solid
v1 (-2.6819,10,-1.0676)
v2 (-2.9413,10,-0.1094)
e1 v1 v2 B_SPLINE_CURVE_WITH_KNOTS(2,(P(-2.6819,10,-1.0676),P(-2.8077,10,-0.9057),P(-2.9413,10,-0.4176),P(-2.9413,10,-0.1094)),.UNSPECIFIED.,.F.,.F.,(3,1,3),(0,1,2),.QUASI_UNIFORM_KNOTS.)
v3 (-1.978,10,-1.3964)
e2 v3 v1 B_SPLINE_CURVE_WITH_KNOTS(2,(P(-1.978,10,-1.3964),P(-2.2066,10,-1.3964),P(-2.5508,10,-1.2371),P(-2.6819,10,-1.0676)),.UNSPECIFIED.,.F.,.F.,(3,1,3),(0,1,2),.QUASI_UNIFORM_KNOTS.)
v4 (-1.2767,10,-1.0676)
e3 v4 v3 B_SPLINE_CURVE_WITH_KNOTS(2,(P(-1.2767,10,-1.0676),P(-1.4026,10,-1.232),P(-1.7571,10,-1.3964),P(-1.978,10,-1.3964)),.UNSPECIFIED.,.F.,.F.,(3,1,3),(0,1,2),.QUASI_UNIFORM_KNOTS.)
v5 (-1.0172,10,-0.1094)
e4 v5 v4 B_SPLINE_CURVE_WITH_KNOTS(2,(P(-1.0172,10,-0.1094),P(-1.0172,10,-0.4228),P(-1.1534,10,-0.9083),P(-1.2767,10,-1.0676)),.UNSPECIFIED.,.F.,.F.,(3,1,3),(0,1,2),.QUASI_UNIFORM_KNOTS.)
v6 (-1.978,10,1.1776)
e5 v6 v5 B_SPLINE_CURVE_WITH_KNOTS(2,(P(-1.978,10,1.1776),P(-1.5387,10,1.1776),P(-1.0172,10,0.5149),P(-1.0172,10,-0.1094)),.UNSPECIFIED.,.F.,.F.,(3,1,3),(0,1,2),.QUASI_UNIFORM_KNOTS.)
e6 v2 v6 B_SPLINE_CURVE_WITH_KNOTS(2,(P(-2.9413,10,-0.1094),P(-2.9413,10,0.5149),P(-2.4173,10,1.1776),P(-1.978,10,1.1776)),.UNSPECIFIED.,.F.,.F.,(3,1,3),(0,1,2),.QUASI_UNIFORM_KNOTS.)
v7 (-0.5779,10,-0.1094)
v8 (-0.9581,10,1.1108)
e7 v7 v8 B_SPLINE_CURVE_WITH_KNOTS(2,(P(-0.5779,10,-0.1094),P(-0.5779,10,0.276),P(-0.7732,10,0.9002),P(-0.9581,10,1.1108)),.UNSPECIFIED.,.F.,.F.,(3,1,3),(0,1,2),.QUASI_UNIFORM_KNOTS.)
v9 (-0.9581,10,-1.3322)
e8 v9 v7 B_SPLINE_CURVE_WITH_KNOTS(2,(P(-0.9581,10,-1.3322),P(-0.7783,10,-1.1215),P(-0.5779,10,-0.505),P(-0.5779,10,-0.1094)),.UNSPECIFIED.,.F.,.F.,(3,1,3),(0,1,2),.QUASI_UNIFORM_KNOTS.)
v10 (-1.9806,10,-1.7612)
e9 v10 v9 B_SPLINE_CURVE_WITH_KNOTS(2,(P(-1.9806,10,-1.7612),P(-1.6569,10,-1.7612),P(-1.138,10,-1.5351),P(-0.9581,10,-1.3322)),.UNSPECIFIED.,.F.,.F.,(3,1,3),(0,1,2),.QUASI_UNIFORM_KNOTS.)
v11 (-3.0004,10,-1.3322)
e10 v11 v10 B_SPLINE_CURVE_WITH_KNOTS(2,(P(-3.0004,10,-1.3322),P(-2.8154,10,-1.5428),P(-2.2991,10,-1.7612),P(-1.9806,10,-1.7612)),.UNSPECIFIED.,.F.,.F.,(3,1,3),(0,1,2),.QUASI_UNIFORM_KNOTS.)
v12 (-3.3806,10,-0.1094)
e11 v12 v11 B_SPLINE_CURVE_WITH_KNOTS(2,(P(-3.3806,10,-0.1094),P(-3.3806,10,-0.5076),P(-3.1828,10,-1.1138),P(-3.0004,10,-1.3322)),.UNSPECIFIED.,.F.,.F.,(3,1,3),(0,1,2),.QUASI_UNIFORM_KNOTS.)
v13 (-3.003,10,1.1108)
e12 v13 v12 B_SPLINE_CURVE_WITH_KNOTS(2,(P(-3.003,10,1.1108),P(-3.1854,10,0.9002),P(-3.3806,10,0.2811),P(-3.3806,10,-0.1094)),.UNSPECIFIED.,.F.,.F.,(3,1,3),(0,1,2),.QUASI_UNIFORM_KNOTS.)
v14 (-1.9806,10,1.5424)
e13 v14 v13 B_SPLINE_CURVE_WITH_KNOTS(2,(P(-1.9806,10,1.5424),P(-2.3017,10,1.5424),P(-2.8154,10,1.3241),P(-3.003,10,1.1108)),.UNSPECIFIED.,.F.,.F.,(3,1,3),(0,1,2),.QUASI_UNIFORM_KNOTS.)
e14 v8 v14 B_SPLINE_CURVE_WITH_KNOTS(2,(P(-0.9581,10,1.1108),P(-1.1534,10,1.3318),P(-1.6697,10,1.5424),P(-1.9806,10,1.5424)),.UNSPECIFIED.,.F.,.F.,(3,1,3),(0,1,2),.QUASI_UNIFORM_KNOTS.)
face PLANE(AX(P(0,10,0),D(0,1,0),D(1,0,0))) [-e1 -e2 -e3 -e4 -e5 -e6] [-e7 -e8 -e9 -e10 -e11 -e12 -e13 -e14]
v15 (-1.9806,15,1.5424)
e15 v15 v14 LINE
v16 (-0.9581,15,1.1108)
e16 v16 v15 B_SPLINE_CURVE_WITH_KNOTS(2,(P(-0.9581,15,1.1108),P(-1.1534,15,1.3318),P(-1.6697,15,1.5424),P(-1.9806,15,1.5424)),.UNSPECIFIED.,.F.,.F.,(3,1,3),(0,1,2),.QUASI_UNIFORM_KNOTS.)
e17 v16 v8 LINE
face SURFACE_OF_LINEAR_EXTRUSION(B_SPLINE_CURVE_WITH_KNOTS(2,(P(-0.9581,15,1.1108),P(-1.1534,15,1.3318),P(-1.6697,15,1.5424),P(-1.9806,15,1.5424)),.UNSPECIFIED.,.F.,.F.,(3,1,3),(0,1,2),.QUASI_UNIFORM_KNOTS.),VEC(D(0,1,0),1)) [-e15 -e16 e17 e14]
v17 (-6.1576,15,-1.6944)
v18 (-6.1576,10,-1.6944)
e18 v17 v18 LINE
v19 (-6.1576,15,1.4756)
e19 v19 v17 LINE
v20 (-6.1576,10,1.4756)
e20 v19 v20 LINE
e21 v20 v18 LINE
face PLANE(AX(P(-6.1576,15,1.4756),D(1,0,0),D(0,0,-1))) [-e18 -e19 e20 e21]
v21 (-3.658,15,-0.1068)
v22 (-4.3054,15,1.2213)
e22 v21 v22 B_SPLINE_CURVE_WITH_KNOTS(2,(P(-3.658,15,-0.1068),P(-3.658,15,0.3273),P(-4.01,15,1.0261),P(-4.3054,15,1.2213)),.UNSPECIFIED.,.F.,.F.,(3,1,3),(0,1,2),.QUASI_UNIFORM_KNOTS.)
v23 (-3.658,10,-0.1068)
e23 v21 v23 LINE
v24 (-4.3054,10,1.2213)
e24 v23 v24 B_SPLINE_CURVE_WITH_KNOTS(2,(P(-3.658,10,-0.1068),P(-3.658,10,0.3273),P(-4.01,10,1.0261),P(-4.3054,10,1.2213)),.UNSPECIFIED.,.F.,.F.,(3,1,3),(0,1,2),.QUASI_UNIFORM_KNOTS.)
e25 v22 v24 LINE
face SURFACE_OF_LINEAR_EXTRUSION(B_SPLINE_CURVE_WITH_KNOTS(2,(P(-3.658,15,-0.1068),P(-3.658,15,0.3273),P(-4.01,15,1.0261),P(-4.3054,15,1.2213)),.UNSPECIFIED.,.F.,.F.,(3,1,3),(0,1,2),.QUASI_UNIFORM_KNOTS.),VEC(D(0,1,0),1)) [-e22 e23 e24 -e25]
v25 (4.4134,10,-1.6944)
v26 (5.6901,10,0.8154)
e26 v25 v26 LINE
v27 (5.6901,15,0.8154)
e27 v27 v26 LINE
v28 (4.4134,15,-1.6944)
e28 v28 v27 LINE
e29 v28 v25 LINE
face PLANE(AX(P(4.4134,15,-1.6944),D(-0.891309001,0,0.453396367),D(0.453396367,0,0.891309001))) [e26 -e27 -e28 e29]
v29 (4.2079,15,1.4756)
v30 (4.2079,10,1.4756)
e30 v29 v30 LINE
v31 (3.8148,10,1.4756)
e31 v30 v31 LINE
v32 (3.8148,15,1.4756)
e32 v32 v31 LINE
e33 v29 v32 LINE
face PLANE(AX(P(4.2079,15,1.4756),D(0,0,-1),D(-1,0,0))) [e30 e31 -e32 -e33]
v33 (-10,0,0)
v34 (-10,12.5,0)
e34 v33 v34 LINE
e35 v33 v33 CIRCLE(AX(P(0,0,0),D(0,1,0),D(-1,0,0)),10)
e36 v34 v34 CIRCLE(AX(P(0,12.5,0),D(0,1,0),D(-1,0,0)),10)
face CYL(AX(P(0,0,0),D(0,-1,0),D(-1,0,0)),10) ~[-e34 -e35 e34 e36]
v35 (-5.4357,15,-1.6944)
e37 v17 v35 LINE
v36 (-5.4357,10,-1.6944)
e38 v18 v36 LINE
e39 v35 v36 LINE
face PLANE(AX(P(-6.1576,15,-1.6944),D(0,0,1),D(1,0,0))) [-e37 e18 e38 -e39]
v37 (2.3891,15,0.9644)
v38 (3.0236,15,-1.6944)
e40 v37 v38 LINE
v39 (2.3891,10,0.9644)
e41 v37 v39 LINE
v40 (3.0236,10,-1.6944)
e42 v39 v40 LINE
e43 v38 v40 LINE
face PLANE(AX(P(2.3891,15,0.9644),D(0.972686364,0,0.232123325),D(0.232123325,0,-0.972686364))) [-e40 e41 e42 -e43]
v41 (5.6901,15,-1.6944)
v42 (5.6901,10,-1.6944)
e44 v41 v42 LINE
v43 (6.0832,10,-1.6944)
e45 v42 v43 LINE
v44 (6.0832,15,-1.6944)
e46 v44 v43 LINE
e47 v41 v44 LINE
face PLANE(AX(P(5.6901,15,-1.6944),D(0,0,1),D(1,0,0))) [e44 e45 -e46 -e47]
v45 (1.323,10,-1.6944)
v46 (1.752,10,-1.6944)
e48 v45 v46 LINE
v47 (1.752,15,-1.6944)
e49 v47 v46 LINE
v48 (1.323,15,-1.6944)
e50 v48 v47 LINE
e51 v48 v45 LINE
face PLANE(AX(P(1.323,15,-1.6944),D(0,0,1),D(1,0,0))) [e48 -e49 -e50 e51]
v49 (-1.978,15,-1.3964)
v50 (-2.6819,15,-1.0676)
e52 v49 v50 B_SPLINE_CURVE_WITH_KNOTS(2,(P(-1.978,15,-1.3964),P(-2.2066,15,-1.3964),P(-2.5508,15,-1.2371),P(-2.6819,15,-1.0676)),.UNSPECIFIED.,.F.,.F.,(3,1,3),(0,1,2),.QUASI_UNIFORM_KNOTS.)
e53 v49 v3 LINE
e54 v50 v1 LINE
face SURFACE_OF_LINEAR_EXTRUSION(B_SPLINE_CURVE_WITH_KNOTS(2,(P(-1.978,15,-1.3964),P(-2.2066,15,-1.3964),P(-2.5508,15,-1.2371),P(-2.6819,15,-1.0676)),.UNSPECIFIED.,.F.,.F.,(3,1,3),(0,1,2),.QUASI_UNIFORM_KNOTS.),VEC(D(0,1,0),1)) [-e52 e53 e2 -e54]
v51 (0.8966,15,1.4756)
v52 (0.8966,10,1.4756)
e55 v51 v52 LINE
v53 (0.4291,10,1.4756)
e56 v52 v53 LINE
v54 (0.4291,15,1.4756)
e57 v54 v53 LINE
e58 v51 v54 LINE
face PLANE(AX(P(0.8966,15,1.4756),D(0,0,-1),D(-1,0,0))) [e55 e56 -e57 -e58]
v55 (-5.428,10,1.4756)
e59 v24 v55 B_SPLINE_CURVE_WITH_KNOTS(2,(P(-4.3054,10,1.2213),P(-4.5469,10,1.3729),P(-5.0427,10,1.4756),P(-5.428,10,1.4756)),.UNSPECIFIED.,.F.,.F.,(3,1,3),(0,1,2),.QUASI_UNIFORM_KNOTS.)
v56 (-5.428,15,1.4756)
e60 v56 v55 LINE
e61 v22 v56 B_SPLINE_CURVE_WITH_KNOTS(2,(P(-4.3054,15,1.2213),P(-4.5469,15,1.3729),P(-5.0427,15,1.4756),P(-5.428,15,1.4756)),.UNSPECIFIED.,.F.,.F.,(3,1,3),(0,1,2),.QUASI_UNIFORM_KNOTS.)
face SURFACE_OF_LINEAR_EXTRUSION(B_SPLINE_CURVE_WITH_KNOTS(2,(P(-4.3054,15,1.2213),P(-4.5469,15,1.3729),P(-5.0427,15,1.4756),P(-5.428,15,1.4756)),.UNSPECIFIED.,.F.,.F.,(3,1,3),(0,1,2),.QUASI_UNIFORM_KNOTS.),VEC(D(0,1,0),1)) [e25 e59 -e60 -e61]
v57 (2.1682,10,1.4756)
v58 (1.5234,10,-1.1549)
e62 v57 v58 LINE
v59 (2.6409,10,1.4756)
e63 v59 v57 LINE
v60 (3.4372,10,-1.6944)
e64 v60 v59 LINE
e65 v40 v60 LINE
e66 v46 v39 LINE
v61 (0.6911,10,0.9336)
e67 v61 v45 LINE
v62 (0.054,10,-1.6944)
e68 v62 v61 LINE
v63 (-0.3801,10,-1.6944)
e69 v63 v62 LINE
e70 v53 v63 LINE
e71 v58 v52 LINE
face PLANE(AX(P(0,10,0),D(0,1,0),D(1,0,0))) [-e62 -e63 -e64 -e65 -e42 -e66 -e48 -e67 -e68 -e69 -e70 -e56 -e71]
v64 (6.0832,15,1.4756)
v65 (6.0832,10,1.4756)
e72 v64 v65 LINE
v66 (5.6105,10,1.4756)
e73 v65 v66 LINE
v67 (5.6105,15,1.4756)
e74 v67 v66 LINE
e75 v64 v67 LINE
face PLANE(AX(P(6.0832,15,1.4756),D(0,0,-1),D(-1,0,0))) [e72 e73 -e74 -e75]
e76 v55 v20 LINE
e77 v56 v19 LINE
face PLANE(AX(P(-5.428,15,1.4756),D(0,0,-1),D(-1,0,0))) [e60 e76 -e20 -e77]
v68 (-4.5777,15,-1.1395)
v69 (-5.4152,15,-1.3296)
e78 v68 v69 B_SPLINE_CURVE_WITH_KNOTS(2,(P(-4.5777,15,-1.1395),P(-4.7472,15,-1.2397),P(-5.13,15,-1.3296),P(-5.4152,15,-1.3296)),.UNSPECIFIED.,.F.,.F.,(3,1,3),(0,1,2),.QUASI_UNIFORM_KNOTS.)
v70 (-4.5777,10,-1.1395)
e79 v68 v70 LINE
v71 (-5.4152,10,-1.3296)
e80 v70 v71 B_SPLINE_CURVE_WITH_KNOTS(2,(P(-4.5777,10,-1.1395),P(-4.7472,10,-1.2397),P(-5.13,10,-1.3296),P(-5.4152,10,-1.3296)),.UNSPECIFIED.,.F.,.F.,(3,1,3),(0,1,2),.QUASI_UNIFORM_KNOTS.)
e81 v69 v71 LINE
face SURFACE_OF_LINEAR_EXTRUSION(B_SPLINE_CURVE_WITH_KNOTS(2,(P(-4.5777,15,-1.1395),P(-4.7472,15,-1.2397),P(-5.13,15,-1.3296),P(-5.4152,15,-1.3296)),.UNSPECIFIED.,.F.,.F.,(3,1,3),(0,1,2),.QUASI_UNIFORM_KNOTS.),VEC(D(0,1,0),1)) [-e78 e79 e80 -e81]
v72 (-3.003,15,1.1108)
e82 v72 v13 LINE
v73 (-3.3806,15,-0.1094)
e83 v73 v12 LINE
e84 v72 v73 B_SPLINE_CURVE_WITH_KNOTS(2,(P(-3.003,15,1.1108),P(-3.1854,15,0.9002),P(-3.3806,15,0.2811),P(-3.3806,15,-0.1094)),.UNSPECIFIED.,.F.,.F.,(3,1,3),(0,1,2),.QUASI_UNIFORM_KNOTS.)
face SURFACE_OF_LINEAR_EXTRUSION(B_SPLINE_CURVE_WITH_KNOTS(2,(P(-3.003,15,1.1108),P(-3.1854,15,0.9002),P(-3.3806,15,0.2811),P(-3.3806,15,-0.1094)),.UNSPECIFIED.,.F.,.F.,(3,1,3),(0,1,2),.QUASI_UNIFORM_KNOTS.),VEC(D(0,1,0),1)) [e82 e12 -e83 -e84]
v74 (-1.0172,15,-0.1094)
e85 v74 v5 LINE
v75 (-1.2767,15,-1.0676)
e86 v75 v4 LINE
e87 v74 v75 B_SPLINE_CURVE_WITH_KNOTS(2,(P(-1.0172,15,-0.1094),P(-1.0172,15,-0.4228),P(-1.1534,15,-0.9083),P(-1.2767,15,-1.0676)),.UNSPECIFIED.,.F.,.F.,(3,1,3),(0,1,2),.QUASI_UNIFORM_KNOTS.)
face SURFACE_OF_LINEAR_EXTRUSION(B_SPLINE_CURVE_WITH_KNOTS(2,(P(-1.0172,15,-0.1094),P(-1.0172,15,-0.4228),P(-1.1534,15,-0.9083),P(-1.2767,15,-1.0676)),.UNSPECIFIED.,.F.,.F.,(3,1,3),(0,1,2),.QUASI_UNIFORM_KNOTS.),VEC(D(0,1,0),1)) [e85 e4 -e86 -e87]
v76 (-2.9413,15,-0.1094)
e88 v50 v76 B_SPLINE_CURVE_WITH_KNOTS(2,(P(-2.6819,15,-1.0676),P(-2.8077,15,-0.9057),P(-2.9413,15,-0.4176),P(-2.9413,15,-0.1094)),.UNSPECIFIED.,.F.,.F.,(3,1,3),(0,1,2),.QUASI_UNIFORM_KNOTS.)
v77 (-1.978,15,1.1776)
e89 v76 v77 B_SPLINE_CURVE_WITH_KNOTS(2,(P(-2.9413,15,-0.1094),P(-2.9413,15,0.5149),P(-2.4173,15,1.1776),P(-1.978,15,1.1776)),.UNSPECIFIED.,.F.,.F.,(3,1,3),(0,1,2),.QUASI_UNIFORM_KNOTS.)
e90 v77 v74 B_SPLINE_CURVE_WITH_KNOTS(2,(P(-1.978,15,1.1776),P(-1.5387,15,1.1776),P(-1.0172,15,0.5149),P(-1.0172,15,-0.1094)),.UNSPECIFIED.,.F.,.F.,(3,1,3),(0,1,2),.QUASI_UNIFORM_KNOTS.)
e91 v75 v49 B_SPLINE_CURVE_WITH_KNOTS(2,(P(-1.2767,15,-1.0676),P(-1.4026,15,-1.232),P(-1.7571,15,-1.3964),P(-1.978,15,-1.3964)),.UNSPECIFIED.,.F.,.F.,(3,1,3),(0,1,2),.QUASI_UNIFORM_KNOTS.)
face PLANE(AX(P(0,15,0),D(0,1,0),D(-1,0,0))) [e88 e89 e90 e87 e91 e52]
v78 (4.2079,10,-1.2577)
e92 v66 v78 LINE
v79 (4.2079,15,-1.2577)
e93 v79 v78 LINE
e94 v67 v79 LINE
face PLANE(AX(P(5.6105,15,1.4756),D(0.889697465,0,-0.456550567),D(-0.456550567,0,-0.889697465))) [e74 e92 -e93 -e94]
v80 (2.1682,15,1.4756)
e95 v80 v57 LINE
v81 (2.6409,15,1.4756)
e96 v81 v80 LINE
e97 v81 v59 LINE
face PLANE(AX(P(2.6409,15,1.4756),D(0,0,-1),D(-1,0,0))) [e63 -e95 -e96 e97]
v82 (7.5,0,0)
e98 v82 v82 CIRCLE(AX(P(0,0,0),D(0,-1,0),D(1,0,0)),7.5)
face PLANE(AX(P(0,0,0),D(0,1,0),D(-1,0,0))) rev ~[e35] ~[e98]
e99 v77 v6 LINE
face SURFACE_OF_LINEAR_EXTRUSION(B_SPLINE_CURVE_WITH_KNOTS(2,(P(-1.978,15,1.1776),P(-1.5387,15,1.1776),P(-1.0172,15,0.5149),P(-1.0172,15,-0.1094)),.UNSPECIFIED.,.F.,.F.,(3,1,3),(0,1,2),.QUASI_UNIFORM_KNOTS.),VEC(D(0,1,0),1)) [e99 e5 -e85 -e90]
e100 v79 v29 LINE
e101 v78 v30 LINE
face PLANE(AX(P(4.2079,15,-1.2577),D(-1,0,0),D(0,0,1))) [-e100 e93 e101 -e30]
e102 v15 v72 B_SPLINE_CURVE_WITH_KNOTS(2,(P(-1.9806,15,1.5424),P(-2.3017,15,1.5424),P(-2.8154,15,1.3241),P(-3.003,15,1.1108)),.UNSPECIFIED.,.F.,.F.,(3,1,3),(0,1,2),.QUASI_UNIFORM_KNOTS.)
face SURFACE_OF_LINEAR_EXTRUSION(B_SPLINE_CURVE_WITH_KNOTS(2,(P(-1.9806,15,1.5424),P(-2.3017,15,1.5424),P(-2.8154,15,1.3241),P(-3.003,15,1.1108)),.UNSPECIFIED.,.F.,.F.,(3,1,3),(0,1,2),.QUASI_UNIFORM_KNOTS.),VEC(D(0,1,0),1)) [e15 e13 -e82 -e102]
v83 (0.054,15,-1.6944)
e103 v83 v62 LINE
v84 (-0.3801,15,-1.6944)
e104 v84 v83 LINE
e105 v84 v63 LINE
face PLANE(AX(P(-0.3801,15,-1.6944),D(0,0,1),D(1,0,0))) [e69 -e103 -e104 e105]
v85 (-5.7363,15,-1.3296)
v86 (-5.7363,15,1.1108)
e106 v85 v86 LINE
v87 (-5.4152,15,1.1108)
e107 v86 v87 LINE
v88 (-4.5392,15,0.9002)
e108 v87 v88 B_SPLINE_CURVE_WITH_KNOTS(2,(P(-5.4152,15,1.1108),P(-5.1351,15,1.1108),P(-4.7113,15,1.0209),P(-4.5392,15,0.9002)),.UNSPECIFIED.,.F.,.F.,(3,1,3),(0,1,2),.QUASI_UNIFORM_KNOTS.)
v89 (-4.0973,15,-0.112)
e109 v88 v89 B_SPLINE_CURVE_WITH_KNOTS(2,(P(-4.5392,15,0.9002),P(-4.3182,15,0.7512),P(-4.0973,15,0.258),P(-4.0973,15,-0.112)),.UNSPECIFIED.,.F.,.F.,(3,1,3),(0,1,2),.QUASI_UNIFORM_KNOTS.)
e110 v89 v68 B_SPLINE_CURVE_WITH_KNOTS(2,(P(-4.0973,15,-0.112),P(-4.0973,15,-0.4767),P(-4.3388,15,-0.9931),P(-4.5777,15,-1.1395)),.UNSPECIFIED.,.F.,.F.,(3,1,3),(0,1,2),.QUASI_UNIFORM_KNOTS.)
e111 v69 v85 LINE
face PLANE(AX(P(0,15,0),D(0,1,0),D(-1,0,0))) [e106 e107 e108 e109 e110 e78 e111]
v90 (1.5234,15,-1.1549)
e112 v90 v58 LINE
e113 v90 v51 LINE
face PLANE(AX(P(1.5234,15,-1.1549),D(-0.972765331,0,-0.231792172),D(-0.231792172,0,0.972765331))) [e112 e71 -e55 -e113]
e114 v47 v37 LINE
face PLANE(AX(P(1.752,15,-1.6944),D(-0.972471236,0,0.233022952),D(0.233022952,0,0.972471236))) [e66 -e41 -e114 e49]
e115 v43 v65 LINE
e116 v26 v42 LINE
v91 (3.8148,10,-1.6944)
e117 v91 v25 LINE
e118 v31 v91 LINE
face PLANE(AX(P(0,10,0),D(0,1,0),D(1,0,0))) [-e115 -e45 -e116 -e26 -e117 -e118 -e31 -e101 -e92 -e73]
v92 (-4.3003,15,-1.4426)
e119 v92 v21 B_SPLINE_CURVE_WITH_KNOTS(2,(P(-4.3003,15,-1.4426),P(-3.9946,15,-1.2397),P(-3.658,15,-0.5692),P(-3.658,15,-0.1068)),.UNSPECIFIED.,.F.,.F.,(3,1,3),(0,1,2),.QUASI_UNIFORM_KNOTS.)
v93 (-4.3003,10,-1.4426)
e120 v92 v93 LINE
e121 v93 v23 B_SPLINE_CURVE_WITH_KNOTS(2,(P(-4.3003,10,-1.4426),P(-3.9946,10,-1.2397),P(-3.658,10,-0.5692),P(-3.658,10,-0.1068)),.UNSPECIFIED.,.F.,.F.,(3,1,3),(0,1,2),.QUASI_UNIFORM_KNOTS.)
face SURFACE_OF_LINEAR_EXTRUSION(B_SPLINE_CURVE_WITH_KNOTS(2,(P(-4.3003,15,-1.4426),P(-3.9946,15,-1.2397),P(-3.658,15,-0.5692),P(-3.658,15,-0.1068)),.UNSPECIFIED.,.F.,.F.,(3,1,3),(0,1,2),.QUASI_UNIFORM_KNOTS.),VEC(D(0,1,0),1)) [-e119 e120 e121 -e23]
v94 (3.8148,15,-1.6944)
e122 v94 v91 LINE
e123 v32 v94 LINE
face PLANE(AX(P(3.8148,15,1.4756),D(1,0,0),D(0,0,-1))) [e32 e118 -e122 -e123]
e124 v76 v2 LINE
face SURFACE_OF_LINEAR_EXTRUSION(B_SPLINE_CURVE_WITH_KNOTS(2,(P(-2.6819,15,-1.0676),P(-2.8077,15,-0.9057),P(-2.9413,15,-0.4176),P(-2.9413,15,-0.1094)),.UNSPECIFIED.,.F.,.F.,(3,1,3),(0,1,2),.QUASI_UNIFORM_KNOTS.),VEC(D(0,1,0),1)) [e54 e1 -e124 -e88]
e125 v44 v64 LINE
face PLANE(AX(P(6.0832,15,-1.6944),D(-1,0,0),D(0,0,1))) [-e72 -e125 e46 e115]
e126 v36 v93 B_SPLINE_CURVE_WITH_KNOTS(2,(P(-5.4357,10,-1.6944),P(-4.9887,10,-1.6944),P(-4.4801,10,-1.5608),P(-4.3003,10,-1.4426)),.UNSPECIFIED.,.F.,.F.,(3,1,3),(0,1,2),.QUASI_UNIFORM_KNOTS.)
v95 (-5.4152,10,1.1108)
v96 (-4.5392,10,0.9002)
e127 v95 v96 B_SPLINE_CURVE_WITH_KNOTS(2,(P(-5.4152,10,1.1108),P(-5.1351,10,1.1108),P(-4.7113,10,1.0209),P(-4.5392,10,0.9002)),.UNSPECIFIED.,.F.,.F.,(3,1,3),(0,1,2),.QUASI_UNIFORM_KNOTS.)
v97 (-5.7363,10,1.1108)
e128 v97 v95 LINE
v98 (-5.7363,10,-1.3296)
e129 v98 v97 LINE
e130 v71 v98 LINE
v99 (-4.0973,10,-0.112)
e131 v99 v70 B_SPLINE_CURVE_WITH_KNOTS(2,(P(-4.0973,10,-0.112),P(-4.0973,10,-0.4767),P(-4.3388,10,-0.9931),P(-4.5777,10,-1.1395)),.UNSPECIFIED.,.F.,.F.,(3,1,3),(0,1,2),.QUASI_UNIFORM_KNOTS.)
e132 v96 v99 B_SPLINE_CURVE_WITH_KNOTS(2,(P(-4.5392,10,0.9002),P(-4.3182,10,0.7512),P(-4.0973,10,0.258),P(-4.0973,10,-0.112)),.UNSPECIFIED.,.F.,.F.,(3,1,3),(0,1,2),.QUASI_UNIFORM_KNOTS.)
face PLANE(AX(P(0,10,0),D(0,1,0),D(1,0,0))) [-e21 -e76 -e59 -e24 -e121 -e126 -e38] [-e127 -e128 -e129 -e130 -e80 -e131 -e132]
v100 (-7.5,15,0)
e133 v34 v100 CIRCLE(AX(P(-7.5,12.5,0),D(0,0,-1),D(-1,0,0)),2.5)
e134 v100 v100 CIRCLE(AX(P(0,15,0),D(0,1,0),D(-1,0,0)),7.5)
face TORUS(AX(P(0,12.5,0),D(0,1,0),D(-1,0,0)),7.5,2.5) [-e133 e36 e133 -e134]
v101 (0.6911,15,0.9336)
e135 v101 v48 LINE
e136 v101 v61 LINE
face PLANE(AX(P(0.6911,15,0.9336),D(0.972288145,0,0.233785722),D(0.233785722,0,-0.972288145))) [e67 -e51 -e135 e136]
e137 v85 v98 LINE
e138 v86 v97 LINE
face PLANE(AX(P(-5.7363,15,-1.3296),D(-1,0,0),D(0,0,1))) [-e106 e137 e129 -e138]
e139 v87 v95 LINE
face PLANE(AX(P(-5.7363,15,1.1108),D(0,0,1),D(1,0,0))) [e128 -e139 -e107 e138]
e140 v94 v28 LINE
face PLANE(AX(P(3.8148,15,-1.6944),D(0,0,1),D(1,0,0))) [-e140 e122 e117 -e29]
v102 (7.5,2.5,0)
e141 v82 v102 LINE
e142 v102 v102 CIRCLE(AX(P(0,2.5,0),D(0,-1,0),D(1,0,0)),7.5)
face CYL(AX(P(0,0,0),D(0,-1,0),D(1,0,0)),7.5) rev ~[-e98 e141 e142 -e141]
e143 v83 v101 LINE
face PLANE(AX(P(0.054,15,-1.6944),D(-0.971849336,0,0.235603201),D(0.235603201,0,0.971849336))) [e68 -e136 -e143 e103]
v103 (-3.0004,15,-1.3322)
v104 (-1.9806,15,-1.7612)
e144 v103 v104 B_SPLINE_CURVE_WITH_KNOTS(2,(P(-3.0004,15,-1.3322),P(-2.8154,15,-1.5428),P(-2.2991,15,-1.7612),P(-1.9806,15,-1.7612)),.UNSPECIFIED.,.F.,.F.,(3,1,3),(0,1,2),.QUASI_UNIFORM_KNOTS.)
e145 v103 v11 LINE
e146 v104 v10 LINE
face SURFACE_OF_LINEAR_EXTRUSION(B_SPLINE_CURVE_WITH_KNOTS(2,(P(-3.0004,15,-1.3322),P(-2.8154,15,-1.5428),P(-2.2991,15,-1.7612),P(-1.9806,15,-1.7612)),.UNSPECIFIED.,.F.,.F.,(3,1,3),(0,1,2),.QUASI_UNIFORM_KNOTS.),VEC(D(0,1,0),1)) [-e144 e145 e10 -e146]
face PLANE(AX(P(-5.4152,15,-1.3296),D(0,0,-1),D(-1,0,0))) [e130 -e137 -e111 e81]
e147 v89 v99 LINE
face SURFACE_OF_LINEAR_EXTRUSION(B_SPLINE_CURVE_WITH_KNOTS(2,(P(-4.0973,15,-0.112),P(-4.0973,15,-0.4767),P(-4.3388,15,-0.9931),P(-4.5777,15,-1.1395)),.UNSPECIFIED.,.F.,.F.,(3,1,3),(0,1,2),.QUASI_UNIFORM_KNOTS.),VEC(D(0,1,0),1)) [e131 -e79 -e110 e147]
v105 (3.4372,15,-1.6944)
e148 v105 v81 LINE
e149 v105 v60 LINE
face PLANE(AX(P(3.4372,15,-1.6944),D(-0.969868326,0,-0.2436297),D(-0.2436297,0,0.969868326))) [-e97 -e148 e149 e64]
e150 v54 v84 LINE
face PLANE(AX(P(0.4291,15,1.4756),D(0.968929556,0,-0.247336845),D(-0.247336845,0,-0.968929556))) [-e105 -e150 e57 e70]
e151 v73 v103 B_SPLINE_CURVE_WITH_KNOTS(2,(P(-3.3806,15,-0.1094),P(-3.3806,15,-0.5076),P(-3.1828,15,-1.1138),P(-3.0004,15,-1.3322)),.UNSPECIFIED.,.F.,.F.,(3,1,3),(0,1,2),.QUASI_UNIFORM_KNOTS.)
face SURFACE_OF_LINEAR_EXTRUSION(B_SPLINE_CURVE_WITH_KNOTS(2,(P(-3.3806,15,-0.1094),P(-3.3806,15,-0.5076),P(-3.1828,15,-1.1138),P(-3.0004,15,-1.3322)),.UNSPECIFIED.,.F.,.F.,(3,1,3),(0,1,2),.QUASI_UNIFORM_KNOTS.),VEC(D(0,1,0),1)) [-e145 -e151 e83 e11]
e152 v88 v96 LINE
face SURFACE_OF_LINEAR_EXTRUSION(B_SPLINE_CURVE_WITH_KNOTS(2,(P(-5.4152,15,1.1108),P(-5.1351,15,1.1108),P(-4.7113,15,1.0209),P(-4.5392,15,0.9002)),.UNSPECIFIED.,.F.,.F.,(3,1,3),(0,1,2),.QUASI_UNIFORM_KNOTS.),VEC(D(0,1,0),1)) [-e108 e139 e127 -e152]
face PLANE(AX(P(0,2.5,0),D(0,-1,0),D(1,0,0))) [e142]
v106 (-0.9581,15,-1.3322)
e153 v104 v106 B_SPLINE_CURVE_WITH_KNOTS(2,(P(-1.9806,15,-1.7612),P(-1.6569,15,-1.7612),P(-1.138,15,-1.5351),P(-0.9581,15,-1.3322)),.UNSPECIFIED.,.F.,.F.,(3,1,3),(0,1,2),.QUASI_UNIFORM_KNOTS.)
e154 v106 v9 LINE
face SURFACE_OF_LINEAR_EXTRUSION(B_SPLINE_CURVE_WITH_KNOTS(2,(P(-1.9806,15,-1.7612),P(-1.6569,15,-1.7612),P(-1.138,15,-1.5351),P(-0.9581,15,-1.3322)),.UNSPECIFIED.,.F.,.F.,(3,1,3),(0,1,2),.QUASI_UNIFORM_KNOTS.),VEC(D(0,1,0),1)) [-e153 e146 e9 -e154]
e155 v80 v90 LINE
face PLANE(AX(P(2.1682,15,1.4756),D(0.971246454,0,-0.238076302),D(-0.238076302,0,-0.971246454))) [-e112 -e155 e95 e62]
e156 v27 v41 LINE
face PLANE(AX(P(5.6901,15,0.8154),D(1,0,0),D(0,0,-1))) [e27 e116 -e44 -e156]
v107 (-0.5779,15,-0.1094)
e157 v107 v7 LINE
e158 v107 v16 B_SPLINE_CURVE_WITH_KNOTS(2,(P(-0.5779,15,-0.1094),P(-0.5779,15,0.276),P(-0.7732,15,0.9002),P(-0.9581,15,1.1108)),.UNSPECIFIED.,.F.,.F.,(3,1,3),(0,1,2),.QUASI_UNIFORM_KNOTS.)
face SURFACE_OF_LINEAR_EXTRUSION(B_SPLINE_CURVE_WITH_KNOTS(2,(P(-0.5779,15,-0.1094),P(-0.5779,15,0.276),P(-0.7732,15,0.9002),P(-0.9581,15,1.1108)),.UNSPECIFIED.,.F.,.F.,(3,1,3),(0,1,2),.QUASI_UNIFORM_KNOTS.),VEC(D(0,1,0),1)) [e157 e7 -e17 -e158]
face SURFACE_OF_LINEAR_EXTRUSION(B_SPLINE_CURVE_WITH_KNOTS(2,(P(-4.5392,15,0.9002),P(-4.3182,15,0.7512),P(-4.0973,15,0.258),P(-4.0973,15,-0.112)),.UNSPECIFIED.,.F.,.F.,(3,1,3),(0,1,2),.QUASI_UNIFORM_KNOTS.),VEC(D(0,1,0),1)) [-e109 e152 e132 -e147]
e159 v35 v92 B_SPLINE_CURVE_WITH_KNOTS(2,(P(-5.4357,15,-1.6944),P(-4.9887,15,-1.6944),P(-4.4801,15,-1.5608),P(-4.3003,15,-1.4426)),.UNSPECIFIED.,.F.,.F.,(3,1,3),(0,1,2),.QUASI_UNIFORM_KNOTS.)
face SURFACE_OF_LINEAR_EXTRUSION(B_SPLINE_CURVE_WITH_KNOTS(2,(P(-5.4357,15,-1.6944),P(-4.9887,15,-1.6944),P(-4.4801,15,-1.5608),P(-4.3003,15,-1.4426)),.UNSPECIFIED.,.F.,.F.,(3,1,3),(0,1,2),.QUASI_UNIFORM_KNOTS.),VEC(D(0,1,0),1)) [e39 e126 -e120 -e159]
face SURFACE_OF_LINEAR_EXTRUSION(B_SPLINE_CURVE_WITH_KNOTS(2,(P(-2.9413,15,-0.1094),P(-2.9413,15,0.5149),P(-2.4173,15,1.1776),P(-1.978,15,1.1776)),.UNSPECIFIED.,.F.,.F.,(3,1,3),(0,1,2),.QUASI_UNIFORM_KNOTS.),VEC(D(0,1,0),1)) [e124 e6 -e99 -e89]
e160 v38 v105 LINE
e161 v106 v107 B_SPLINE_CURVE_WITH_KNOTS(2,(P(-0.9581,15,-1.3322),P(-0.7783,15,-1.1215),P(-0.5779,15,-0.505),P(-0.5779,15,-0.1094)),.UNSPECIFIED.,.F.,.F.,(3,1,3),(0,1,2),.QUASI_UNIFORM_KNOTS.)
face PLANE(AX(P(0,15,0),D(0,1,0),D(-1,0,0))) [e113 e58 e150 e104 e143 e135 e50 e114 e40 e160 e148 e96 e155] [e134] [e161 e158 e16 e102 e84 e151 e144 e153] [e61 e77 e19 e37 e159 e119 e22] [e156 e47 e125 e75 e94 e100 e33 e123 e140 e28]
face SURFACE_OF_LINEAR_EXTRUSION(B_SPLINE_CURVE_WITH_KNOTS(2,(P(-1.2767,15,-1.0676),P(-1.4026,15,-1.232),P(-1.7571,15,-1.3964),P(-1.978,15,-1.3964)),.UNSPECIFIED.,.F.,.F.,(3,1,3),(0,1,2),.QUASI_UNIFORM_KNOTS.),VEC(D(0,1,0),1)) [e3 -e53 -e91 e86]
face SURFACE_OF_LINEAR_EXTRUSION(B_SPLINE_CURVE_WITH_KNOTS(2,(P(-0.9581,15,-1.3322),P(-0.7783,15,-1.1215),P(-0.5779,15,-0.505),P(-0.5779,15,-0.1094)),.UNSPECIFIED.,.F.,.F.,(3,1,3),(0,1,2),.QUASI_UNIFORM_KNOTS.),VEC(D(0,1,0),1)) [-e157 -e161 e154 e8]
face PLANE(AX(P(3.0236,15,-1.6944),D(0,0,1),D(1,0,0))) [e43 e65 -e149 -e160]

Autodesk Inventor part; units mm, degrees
ref_plane "YZ Plane" through (0, 0, 0) normal (1, 0, 0) x (0, 1, 0)
ref_plane "XZ Plane" through (0, 0, 0) normal (0, 1, 0) x (-1, 0, 0)
ref_plane "XY Plane" through (0, 0, 0) normal (0, 0, 1) x (1, 0, 0)
sketch "Sketch1" plane through (0, 0, 0) normal (0, 1, 0) x (-1, 0, 0)
  circle A0 centre (0, 0) radius 10
  dimension "d0" = 20
extrude "Extrusion1" add sketch "Sketch1" along normal blind 15
fillet "Fillet1" radius 2.5 1 edges at (10, 15, 0)
sketch "Sketch2" plane through (0, 15, 0) normal (0, 1, 0) x (1, 0, 0)
  line L0 (-6.4787, 1.7612) -> (2.2441, 1.7612) construction
  line L1 (2.2441, 1.7612) -> (2.2441, -4.757) construction
  line L2 (2.2441, -4.757) -> (-6.4787, -4.757) construction
  line L3 (-6.4787, -4.757) -> (-6.4787, 1.7612) construction
  spline S0 degree 2 poles (-3.658, 0.1068) (-3.658, -0.3273) (-4.01, -1.0261) (-4.3054, -1.2213) knots 0 0 0 1 2 2 2
  spline S1 degree 2 poles (-4.3054, -1.2213) (-4.5469, -1.3729) (-5.0427, -1.4756) (-5.428, -1.4756) knots 0 0 0 1 2 2 2
  line L4 (-5.428, -1.4756) -> (-6.1576, -1.4756)
  line L5 (-6.1576, -1.4756) -> (-6.1576, 1.6944)
  line L6 (-6.1576, 1.6944) -> (-5.4357, 1.6944)
  spline S2 degree 2 poles (-5.4357, 1.6944) (-4.9887, 1.6944) (-4.4801, 1.5608) (-4.3003, 1.4426) knots 0 0 0 1 2 2 2
  spline S3 degree 2 poles (-4.3003, 1.4426) (-3.9946, 1.2397) (-3.658, 0.5692) (-3.658, 0.1068) knots 0 0 0 1 2 2 2
  spline S4 degree 2 poles (-4.0973, 0.112) (-4.0973, 0.4767) (-4.3388, 0.9931) (-4.5777, 1.1395) knots 0 0 0 1 2 2 2
  spline S5 degree 2 poles (-4.5777, 1.1395) (-4.7472, 1.2397) (-5.13, 1.3296) (-5.4152, 1.3296) knots 0 0 0 1 2 2 2
  line L7 (-5.4152, 1.3296) -> (-5.7363, 1.3296)
  line L8 (-5.7363, 1.3296) -> (-5.7363, -1.1108)
  line L9 (-5.7363, -1.1108) -> (-5.4152, -1.1108)
  spline S6 degree 2 poles (-5.4152, -1.1108) (-5.1351, -1.1108) (-4.7113, -1.0209) (-4.5392, -0.9002) knots 0 0 0 1 2 2 2
  spline S7 degree 2 poles (-4.5392, -0.9002) (-4.3182, -0.7512) (-4.0973, -0.258) (-4.0973, 0.112) knots 0 0 0 1 2 2 2
  spline S8 degree 2 poles (-0.9581, 1.3322) (-0.7783, 1.1215) (-0.5779, 0.505) (-0.5779, 0.1094) knots 0 0 0 1 2 2 2
  spline S9 degree 2 poles (-0.5779, 0.1094) (-0.5779, -0.276) (-0.7732, -0.9002) (-0.9581, -1.1108) knots 0 0 0 1 2 2 2
  spline S10 degree 2 poles (-0.9581, -1.1108) (-1.1534, -1.3318) (-1.6697, -1.5424) (-1.9806, -1.5424) knots 0 0 0 1 2 2 2
  spline S11 degree 2 poles (-1.9806, -1.5424) (-2.3017, -1.5424) (-2.8154, -1.3241) (-3.003, -1.1108) knots 0 0 0 1 2 2 2
  spline S12 degree 2 poles (-3.003, -1.1108) (-3.1854, -0.9002) (-3.3806, -0.2811) (-3.3806, 0.1094) knots 0 0 0 1 2 2 2
  spline S13 degree 2 poles (-3.3806, 0.1094) (-3.3806, 0.5076) (-3.1828, 1.1138) (-3.0004, 1.3322) knots 0 0 0 1 2 2 2
  spline S14 degree 2 poles (-3.0004, 1.3322) (-2.8154, 1.5428) (-2.2991, 1.7612) (-1.9806, 1.7612) knots 0 0 0 1 2 2 2
  spline S15 degree 2 poles (-1.9806, 1.7612) (-1.6569, 1.7612) (-1.138, 1.5351) (-0.9581, 1.3322) knots 0 0 0 1 2 2 2
  spline S16 degree 2 poles (-1.0172, 0.1094) (-1.0172, 0.4228) (-1.1534, 0.9083) (-1.2767, 1.0676) knots 0 0 0 1 2 2 2
  spline S17 degree 2 poles (-1.2767, 1.0676) (-1.4026, 1.232) (-1.7571, 1.3964) (-1.978, 1.3964) knots 0 0 0 1 2 2 2
  spline S18 degree 2 poles (-1.978, 1.3964) (-2.2066, 1.3964) (-2.5508, 1.2371) (-2.6819, 1.0676) knots 0 0 0 1 2 2 2
  spline S19 degree 2 poles (-2.6819, 1.0676) (-2.8077, 0.9057) (-2.9413, 0.4176) (-2.9413, 0.1094) knots 0 0 0 1 2 2 2
  spline S20 degree 2 poles (-2.9413, 0.1094) (-2.9413, -0.5149) (-2.4173, -1.1776) (-1.978, -1.1776) knots 0 0 0 1 2 2 2
  spline S21 degree 2 poles (-1.978, -1.1776) (-1.5387, -1.1776) (-1.0172, -0.5149) (-1.0172, 0.1094) knots 0 0 0 1 2 2 2
  line L10 (3.4372, 1.6944) -> (2.6409, -1.4756)
  line L11 (2.6409, -1.4756) -> (2.1682, -1.4756)
  line L12 (2.1682, -1.4756) -> (1.5234, 1.1549)
  line L13 (1.5234, 1.1549) -> (0.8966, -1.4756)
  line L14 (0.8966, -1.4756) -> (0.4291, -1.4756)
  line L15 (0.4291, -1.4756) -> (-0.3801, 1.6944)
  line L16 (-0.3801, 1.6944) -> (0.054, 1.6944)
  line L17 (0.054, 1.6944) -> (0.6911, -0.9336)
  line L18 (0.6911, -0.9336) -> (1.323, 1.6944)
  line L19 (1.323, 1.6944) -> (1.752, 1.6944)
  line L20 (1.752, 1.6944) -> (2.3891, -0.9644)
  line L21 (2.3891, -0.9644) -> (3.0236, 1.6944)
  line L22 (3.0236, 1.6944) -> (3.4372, 1.6944)
  line L23 (6.0832, -1.4756) -> (5.6105, -1.4756)
  line L24 (5.6105, -1.4756) -> (4.2079, 1.2577)
  line L25 (4.2079, 1.2577) -> (4.2079, -1.4756)
  line L26 (4.2079, -1.4756) -> (3.8148, -1.4756)
  line L27 (3.8148, -1.4756) -> (3.8148, 1.6944)
  line L28 (3.8148, 1.6944) -> (4.4134, 1.6944)
  line L29 (4.4134, 1.6944) -> (5.6901, -0.8154)
  line L30 (5.6901, -0.8154) -> (5.6901, 1.6944)
  line L31 (5.6901, 1.6944) -> (6.0832, 1.6944)
  line L32 (6.0832, 1.6944) -> (6.0832, -1.4756)
  point P0 (0, 0)
extrude "Extrusion2" cut sketch "Sketch2" against normal blind 5
sketch "Sketch3" plane through (0, 0, 0) normal (0, -1, 0) x (1, 0, 0)
  circle A0 centre (0, 0) radius 7.5
extrude "Extrusion3" cut sketch "Sketch3" against normal blind 2.5
properties part number "DOWN Button"
